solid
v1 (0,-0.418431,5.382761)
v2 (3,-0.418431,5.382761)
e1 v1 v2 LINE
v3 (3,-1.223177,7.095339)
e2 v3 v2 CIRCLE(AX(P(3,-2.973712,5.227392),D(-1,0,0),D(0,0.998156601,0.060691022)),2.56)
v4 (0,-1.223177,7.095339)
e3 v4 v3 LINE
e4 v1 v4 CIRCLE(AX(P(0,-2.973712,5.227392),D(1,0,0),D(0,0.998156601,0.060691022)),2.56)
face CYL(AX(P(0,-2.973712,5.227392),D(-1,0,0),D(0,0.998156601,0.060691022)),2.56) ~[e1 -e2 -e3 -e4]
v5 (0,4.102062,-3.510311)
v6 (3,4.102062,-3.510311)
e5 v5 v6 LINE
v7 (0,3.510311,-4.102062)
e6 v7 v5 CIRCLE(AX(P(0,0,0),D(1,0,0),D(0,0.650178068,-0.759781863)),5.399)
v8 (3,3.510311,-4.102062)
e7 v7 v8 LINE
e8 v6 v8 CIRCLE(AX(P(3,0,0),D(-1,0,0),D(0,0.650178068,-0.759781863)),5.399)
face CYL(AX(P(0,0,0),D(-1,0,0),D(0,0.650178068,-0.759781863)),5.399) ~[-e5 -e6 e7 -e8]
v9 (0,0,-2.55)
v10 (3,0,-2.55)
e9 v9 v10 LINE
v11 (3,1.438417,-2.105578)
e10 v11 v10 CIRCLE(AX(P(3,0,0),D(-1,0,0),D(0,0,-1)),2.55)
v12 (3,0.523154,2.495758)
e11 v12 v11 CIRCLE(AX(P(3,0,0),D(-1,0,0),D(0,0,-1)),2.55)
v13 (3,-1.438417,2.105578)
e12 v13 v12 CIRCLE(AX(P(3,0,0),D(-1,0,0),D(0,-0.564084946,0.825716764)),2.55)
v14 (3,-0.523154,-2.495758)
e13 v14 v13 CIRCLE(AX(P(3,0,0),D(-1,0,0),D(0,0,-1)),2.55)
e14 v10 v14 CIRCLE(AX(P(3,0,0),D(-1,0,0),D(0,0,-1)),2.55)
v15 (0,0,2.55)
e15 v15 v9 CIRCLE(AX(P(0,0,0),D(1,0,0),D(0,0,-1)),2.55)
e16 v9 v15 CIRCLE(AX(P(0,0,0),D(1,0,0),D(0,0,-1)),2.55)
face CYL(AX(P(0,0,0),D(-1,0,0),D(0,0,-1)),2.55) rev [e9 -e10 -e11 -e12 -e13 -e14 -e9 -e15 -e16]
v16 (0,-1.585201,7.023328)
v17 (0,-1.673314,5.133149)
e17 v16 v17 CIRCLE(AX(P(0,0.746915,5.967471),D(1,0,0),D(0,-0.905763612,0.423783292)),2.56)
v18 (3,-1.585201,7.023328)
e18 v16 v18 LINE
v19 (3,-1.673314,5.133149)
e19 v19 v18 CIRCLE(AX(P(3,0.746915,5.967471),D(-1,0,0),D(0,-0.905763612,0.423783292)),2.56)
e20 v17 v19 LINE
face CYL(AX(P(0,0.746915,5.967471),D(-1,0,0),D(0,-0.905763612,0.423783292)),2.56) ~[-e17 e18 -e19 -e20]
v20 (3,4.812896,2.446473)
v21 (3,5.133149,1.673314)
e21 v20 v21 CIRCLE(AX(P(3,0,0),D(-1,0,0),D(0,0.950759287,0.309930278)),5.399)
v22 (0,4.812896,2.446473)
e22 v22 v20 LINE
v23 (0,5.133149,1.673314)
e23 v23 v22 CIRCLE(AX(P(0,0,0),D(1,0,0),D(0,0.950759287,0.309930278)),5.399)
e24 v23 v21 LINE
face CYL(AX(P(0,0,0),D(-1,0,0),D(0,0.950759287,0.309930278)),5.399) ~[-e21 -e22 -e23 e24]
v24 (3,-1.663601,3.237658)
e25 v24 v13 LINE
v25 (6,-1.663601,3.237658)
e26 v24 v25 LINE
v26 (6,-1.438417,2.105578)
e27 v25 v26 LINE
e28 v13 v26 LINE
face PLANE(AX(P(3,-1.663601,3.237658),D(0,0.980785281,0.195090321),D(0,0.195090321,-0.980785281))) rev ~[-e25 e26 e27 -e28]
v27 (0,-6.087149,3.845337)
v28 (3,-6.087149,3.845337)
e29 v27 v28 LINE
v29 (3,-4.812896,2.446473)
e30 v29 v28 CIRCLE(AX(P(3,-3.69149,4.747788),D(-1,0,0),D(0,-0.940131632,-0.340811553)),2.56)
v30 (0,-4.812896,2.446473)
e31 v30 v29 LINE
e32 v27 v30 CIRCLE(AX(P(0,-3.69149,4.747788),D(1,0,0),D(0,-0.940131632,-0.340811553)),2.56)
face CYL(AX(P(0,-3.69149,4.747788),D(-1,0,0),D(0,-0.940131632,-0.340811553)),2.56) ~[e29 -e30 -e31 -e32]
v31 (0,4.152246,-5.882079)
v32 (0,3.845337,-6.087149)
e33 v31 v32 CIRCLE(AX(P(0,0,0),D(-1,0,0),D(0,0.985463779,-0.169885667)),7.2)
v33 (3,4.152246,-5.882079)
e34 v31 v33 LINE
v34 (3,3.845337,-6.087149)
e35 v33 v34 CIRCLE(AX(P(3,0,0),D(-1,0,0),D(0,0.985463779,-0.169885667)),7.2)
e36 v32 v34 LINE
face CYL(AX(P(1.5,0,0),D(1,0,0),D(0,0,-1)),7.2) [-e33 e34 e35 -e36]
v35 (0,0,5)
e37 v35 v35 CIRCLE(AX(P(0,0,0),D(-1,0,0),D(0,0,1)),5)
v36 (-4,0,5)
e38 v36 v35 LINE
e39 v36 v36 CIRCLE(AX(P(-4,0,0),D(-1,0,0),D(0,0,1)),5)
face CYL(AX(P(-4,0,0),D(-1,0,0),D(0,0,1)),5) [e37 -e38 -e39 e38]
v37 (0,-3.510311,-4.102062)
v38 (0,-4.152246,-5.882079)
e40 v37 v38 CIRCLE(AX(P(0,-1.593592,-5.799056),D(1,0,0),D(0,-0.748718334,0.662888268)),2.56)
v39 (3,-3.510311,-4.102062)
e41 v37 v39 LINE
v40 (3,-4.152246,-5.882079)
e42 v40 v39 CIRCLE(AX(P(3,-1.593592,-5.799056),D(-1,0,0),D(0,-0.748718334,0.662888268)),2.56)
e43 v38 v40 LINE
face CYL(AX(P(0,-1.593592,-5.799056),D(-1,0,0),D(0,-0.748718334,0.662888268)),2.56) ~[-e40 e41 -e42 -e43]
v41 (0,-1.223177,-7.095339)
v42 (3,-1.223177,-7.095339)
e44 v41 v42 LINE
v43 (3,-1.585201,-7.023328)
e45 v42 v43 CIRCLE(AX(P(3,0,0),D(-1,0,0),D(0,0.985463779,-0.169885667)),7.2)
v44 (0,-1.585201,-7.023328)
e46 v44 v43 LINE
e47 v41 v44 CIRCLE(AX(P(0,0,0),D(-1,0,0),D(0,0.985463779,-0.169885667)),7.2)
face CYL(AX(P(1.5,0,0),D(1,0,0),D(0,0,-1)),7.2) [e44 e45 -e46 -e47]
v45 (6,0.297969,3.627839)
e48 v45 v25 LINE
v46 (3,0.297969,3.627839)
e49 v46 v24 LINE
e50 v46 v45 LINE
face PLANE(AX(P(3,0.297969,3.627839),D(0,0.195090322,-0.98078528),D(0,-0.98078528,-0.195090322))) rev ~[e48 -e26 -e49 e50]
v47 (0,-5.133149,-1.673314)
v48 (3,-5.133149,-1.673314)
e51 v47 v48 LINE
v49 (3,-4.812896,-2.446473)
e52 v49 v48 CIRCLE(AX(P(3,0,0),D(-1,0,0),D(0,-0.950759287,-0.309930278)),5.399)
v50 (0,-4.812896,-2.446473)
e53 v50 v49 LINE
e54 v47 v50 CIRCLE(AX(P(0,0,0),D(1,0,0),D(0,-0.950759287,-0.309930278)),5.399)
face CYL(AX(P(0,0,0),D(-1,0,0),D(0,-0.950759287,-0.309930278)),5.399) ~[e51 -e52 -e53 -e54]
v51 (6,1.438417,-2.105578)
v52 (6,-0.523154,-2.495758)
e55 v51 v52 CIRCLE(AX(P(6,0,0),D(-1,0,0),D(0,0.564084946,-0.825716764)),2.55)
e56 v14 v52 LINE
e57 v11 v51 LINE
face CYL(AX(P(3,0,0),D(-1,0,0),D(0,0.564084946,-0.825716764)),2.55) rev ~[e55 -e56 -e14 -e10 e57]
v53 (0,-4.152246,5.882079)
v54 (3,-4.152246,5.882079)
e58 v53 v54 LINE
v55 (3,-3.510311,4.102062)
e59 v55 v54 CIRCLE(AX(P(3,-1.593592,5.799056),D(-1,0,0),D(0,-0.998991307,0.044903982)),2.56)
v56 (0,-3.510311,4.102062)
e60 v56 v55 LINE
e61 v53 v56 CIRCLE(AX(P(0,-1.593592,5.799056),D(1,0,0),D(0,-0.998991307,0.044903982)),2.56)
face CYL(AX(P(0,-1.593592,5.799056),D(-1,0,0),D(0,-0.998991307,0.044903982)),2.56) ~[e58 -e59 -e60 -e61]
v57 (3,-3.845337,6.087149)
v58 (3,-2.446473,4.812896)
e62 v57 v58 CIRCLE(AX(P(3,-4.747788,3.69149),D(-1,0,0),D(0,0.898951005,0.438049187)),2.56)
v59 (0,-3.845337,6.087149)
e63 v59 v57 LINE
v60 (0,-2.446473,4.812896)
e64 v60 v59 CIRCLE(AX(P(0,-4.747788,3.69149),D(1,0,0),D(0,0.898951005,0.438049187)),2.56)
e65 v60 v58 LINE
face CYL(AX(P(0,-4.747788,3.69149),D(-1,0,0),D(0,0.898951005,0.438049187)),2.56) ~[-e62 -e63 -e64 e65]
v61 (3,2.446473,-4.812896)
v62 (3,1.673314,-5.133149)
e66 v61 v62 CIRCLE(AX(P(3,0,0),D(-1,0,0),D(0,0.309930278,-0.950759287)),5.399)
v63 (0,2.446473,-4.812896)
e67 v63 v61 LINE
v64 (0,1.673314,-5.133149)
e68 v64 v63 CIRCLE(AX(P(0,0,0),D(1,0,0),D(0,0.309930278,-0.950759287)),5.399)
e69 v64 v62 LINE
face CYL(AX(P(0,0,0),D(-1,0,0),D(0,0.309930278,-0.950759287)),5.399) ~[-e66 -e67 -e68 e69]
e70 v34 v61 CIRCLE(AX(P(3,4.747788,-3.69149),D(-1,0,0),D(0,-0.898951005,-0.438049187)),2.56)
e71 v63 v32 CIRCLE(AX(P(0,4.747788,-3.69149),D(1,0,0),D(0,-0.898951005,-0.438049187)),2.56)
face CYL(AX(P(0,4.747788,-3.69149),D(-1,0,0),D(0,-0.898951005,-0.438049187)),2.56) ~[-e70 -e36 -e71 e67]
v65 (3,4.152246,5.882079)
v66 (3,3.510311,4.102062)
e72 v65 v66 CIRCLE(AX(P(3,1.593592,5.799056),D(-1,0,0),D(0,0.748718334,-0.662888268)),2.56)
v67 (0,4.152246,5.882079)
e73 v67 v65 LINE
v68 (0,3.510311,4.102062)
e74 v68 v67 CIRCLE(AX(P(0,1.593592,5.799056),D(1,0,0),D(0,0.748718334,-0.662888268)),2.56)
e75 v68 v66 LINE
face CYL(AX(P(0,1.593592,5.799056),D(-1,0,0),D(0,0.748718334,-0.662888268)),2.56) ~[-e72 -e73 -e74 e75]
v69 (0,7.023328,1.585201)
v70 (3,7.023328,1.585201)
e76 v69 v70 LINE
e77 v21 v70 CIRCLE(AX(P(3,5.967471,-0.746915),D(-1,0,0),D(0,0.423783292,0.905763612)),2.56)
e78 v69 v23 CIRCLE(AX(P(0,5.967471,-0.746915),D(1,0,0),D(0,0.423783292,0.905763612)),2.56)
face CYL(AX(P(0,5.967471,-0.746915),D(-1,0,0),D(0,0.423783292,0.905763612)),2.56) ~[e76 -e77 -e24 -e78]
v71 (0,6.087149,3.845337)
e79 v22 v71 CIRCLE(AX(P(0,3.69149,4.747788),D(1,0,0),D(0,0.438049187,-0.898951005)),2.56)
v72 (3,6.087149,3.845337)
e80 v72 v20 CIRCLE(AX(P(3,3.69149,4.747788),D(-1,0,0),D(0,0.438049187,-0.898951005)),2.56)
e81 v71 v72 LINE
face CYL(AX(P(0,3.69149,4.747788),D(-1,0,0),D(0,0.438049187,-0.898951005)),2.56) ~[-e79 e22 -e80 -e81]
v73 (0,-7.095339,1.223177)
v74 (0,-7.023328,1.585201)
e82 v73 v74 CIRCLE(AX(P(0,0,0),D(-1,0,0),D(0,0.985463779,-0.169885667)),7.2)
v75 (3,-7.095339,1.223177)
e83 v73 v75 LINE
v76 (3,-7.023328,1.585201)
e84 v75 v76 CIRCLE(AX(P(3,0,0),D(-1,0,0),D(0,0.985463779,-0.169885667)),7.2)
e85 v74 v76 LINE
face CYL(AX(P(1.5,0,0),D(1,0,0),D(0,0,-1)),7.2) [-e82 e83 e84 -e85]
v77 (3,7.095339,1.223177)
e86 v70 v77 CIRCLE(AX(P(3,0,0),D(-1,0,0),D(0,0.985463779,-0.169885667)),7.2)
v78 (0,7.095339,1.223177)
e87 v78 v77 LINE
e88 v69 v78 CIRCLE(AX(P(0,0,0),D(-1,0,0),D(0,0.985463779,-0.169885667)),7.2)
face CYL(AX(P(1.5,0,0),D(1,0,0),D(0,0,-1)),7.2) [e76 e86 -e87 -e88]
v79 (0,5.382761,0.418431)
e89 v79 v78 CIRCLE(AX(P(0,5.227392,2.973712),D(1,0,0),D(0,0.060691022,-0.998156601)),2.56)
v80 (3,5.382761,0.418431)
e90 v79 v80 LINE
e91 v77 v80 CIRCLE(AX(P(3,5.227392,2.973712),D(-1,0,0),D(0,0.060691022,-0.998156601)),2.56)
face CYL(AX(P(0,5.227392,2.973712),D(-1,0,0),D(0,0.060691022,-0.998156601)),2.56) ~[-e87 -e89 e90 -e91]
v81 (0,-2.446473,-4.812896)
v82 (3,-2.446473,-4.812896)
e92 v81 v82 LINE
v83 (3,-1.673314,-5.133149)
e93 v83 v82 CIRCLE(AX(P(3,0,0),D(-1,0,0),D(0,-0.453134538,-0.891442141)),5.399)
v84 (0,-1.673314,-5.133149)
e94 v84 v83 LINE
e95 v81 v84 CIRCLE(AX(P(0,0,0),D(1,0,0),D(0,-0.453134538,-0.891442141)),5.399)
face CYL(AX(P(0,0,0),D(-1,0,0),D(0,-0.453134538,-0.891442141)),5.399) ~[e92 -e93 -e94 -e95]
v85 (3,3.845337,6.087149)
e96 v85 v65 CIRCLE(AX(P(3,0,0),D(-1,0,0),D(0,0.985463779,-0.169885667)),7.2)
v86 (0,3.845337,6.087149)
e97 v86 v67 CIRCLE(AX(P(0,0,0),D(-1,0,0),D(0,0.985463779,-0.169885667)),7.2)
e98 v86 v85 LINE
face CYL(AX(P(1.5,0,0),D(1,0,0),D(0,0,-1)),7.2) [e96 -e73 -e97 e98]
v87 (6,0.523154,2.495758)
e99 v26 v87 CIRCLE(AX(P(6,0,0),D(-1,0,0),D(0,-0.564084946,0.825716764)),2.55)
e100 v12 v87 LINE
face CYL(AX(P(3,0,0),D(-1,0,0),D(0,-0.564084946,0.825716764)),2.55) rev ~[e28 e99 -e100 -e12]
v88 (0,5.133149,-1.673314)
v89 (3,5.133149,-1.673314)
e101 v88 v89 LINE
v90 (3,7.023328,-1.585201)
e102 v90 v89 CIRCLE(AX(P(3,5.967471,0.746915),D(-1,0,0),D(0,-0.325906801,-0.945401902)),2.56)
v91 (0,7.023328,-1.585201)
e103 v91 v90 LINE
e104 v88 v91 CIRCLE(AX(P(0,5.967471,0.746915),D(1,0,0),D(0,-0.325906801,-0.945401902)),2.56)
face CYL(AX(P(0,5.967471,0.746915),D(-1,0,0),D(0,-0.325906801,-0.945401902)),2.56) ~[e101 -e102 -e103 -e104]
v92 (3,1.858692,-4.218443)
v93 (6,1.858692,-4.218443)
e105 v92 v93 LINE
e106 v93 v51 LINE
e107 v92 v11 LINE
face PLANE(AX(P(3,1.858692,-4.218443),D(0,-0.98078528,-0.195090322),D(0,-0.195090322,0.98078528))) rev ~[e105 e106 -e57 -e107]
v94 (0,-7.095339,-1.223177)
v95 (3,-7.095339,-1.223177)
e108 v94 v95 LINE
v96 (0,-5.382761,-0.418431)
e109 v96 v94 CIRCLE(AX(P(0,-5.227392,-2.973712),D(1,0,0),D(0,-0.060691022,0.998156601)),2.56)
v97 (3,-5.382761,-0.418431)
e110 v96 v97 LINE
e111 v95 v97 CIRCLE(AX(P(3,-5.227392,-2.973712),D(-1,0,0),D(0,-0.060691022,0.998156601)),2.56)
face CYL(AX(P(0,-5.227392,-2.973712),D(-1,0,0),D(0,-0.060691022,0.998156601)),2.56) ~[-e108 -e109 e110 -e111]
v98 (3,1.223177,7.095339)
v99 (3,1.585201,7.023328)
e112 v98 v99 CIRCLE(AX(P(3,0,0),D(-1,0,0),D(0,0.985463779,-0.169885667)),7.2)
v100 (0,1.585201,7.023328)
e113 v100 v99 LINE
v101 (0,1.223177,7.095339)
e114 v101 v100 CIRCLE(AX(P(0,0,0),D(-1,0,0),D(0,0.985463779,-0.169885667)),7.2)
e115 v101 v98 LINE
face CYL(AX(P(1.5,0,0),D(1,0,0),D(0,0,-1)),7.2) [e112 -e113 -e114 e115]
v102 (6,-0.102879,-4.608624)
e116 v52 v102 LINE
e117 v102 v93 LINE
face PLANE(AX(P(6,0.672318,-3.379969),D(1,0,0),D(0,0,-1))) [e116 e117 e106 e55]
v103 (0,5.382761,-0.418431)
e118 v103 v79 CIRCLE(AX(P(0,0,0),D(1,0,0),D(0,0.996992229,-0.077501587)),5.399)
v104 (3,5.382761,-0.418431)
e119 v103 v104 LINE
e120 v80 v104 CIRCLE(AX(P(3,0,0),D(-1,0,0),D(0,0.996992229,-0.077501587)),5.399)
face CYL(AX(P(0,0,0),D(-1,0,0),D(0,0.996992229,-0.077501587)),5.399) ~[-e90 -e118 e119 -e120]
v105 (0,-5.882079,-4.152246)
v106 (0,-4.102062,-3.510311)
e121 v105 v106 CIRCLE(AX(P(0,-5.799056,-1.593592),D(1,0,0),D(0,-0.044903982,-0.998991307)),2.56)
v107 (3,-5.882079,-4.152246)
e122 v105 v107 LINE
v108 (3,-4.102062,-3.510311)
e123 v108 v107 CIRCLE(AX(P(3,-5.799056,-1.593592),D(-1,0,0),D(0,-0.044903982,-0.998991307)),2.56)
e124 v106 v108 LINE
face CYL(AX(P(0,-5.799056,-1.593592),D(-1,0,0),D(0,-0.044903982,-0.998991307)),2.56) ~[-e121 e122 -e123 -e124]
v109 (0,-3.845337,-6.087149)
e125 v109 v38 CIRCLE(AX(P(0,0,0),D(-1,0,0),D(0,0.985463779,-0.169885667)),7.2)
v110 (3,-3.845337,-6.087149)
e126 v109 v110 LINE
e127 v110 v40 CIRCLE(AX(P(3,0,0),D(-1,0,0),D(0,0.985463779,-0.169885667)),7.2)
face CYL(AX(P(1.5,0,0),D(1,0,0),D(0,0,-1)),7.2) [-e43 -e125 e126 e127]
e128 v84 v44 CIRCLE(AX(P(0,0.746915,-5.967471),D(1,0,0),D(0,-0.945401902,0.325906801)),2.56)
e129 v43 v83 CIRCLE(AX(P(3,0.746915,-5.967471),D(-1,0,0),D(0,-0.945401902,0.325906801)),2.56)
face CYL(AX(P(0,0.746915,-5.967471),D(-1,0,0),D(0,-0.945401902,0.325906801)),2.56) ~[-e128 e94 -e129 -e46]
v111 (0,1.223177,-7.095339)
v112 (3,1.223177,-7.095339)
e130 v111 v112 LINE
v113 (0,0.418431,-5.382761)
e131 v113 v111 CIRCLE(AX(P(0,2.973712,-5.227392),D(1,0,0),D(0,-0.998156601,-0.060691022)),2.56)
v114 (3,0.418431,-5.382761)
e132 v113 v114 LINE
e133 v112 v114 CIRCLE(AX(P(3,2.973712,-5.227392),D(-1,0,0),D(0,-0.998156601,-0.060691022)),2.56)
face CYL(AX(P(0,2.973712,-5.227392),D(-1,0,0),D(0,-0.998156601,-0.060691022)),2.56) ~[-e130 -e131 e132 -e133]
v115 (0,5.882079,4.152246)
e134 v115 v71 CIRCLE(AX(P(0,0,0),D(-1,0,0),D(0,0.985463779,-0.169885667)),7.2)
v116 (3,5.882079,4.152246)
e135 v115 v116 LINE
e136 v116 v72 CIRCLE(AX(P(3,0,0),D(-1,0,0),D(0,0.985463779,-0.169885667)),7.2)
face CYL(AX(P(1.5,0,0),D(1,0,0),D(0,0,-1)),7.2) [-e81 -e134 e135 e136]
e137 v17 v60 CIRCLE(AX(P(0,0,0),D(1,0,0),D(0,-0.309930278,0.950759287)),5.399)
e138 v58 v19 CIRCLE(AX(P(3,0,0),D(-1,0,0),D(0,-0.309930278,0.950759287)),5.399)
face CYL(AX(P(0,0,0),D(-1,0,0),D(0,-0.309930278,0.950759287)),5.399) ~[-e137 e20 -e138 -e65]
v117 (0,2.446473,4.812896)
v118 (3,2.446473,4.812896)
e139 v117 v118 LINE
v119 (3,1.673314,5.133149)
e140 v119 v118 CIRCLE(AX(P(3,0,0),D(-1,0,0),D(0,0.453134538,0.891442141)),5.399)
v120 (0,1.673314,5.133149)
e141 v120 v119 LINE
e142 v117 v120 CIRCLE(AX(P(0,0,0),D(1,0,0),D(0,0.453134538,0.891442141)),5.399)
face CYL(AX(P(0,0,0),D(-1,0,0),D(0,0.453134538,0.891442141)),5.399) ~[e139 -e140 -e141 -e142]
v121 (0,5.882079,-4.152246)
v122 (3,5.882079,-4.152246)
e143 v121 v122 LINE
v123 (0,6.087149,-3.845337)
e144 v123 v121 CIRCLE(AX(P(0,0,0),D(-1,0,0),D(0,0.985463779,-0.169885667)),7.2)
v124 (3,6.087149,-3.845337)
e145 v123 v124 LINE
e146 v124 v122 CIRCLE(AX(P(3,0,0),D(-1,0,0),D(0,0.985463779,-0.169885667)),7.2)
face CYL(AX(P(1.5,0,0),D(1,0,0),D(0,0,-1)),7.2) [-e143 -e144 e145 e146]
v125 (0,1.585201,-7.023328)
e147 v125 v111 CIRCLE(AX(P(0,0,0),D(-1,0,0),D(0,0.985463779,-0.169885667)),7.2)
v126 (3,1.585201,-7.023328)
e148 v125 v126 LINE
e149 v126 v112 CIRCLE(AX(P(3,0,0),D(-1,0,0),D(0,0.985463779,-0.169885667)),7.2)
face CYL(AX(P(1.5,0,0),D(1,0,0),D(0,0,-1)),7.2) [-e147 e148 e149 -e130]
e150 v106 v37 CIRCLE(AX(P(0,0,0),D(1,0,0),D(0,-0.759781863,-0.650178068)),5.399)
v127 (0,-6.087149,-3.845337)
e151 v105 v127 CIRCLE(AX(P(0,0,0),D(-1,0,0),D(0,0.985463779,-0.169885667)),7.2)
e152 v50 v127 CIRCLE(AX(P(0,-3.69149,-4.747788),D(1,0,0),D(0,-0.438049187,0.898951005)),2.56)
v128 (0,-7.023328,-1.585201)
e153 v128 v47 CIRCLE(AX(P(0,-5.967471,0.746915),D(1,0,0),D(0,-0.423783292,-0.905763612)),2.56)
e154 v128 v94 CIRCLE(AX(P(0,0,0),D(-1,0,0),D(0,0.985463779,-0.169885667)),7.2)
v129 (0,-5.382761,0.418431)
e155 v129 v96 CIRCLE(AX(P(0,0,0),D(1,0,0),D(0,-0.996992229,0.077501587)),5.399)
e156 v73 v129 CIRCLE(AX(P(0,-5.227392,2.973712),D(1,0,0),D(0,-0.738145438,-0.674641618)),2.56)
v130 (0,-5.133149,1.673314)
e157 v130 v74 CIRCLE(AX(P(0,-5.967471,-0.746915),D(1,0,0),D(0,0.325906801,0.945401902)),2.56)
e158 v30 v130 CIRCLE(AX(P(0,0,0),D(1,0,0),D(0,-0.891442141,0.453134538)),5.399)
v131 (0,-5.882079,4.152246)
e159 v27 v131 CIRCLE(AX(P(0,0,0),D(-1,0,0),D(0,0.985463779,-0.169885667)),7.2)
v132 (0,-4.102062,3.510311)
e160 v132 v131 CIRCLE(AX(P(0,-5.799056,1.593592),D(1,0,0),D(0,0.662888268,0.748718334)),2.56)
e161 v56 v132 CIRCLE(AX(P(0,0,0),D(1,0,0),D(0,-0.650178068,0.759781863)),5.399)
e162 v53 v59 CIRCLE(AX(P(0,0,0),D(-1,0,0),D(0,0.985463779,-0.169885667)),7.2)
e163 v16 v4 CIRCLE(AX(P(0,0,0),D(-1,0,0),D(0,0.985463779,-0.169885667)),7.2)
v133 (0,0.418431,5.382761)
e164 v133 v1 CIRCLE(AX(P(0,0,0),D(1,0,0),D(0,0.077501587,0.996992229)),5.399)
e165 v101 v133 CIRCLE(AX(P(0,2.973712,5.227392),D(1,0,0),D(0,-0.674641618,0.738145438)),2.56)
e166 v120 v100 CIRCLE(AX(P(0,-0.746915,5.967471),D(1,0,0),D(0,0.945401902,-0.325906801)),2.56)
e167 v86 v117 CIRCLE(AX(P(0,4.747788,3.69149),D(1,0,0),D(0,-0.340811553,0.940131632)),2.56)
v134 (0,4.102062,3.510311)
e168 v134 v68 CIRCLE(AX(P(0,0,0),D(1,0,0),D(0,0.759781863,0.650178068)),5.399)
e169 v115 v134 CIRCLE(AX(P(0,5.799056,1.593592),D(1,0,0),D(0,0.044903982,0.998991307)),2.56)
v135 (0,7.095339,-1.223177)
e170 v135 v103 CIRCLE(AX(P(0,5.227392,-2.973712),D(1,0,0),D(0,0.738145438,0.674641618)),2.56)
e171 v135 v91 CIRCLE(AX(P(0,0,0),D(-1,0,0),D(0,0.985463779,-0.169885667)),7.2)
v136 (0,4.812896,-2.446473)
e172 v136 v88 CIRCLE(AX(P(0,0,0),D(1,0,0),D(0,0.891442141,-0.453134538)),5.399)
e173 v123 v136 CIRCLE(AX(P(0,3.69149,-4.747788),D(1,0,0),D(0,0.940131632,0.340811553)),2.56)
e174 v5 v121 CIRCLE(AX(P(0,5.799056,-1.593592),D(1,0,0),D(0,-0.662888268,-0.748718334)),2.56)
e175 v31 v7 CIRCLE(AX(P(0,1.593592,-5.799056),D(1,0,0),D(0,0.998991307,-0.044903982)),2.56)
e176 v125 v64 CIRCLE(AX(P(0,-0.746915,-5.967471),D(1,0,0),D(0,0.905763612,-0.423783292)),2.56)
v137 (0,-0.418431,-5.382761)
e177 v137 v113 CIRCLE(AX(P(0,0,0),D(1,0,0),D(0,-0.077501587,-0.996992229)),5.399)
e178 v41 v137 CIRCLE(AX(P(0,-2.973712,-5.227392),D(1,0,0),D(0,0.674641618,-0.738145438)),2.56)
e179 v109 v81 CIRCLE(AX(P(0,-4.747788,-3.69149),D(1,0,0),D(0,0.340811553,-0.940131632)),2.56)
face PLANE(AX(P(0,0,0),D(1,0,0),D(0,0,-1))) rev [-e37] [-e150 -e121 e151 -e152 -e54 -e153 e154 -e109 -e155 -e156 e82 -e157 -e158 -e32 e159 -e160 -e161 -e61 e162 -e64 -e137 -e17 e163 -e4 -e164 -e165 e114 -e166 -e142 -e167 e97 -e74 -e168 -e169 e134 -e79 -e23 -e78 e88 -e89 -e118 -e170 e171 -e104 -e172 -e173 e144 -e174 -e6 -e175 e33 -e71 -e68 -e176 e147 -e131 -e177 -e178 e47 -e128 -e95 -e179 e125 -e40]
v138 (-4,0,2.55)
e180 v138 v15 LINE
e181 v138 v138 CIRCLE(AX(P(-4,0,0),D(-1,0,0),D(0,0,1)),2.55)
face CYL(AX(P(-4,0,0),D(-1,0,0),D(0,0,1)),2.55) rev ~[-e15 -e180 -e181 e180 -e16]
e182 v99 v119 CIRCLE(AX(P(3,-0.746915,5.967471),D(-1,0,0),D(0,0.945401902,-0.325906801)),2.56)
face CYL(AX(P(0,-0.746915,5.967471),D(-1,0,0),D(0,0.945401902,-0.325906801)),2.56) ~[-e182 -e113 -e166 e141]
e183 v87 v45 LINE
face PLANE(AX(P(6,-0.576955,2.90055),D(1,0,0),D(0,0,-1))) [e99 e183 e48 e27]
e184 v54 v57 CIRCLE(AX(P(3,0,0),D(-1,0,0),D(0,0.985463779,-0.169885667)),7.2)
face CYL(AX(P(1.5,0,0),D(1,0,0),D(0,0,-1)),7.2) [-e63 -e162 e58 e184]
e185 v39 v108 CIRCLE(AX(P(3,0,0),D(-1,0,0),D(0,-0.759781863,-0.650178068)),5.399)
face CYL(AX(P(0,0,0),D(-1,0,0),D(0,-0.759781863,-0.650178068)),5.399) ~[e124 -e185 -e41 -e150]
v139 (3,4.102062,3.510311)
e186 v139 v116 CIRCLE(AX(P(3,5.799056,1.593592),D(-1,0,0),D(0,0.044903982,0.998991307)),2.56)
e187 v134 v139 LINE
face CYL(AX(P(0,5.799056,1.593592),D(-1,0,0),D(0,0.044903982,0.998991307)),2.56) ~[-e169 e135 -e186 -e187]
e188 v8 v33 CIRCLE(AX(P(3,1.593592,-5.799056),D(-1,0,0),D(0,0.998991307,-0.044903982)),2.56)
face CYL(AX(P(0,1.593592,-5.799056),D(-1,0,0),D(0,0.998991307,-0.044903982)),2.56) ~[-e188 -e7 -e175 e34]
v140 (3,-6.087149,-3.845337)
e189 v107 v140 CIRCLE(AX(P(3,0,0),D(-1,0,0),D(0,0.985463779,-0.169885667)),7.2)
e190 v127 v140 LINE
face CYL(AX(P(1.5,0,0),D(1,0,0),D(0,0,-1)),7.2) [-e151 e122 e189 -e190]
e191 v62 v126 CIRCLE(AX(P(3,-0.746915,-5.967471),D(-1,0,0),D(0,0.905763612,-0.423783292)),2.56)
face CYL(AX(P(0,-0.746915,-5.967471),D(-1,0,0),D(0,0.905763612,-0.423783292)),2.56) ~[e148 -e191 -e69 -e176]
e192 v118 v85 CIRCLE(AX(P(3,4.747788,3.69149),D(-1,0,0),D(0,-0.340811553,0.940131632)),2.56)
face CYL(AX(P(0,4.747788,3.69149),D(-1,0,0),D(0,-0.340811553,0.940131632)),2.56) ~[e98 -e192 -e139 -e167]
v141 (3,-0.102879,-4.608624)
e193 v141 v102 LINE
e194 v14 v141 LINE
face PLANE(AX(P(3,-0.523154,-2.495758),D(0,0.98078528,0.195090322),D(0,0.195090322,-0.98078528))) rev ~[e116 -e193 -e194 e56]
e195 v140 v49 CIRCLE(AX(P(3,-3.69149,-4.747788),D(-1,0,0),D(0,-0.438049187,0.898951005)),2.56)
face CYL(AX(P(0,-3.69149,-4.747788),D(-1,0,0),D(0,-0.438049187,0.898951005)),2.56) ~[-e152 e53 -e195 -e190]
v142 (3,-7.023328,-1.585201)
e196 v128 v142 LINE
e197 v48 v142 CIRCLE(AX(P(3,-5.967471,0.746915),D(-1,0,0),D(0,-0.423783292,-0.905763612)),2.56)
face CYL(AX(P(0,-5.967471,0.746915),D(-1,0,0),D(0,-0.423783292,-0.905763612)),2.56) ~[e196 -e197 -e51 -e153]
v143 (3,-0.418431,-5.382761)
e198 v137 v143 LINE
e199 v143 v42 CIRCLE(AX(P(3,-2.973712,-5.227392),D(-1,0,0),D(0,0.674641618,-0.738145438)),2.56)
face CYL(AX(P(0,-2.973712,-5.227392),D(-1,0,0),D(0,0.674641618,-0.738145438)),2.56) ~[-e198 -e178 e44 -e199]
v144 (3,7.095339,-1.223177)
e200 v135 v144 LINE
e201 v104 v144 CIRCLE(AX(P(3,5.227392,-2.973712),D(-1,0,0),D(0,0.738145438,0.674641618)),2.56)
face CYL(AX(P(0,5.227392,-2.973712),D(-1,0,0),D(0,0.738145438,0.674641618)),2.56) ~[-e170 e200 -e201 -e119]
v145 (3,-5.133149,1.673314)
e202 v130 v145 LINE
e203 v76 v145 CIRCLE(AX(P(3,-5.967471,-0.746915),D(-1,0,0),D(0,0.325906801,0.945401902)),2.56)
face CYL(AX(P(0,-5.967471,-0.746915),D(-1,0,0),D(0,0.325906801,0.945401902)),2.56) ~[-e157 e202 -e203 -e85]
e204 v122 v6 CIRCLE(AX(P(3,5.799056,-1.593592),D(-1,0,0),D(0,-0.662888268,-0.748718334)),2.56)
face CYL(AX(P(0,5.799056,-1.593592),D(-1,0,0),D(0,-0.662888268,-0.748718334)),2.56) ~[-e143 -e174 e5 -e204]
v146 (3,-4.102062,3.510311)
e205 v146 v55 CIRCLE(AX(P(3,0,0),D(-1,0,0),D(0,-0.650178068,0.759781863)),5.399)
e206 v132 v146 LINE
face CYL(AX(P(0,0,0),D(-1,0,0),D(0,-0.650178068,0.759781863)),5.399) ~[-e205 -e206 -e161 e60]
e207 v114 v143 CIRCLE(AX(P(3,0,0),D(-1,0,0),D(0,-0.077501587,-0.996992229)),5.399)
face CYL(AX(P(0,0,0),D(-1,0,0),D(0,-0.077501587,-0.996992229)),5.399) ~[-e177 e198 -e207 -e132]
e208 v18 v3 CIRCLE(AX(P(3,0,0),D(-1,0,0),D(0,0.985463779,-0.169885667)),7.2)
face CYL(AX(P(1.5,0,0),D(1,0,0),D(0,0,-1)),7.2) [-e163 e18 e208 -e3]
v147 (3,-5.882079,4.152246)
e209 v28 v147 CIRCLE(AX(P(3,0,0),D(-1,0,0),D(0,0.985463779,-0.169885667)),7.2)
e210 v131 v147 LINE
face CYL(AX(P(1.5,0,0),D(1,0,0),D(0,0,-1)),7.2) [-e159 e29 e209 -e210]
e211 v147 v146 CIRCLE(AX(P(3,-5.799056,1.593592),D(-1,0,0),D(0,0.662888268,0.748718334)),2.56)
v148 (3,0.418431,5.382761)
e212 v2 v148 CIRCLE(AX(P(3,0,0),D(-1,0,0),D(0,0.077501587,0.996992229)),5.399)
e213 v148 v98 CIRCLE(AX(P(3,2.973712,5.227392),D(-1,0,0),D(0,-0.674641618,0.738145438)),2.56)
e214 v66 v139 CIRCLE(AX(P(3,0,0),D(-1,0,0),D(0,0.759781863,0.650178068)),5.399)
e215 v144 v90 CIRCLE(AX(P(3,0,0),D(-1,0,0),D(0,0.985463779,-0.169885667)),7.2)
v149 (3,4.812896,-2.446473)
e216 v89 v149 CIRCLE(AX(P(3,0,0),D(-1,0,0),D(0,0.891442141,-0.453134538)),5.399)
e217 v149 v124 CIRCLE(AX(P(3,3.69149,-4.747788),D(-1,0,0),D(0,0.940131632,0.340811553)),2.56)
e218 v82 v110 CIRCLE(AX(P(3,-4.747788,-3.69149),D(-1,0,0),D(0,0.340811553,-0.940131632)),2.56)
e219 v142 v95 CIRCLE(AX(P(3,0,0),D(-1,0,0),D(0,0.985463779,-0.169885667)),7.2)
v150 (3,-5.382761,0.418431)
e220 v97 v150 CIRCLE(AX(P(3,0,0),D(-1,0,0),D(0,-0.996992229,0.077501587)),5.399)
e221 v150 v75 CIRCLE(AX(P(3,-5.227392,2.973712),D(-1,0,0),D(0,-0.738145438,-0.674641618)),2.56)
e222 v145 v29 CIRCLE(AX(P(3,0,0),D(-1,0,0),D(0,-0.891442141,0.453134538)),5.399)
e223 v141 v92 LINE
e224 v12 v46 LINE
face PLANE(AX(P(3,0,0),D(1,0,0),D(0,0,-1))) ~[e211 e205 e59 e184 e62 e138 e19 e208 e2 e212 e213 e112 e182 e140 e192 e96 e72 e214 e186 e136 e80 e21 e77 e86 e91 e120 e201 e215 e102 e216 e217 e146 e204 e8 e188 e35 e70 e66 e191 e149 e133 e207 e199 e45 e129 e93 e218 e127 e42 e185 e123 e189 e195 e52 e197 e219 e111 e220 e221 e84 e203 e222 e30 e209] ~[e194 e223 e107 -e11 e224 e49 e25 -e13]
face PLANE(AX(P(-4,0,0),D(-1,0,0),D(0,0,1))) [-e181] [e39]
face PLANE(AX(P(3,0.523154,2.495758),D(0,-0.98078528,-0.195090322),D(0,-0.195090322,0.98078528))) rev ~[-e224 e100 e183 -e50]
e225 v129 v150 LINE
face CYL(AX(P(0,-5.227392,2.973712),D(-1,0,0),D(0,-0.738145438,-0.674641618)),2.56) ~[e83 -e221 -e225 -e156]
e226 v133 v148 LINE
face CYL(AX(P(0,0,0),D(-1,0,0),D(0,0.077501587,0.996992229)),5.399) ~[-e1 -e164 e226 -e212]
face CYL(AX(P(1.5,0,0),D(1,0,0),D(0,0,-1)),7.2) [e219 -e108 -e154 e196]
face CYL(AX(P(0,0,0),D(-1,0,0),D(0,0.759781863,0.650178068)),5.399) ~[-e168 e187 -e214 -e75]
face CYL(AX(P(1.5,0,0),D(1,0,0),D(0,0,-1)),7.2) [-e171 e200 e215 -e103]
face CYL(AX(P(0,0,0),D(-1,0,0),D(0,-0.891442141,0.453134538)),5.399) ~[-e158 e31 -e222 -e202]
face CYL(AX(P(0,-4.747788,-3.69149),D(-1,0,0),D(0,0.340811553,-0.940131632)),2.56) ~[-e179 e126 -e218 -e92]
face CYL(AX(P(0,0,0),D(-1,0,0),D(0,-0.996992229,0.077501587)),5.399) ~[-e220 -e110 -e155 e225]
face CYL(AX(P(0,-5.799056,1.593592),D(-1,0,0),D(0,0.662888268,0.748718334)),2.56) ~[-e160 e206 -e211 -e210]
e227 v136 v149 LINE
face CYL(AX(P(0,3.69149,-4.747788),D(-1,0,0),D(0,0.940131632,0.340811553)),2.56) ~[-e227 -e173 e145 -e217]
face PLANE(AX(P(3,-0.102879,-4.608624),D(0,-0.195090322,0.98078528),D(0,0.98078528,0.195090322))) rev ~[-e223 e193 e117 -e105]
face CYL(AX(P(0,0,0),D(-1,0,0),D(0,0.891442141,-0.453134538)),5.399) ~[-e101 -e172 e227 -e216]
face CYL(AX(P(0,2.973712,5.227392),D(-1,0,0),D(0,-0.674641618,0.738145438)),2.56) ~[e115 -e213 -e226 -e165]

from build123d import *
from build123d.topology import SkipClean

# Parameters (mm, degrees)
BASPROSKE_W         = 3
BASPROSKE_H         = 7.2
TOOTHCUT_DEPTH      = 11.615083608
TEETHCUTS_COUNT     = 16
BORSKE_R            = 0.5
BORE_DEPTH          = 50.0000508
SKETCH_1_R          = 2.55
CUT_EXTRUDE_1_DEPTH = 11.473188484
EXTRUDE_START       = 4
SKETCH_3_R          = 5
SKETCH_3_R_2        = 2.55
EXTRUDE_2_DEPTH     = 4
EXTRUDE_1_DEPTH     = 3


with BuildPart() as part:
    # BasProSke → Base-Revolve (revolve)
    with BuildSketch(Plane(origin=(0, 0, 0), x_dir=(1, 0, 0), z_dir=(0, 1, 0))):
        with Locations((1.5, 3.6)):
            Rectangle(BASPROSKE_W, BASPROSKE_H)
    revolve(axis=Axis((-10, 0, 0), (1, 0, 0)))

    # TooCutSke → ToothCut (cut, through all)
    with BuildSketch(Plane(origin=(0, 0, 0), x_dir=(0, 0, -1), z_dir=(1, 0, 0))):
        with BuildLine():
            ThreePointArc((0.418431057, 5.382761043), (0, 5.399), (-0.418431057, 5.382761043))
            ThreePointArc((-0.418431057, 5.382761043), (-0.663605074, 6.330572066), (-1.246629414, 7.117044349))
            ThreePointArc((-1.246629414, 7.117044349), (0, 7.2254), (1.246629414, 7.117044349))
            ThreePointArc((1.246629414, 7.117044349), (0.663605074, 6.330572066), (0.418431057, 5.382761043))
        make_face()
    toothcut = extrude(amount=TOOTHCUT_DEPTH, mode=Mode.SUBTRACT)

    # TeethCuts: ToothCut ×16 about axis
    teethcuts_axis = Axis((-10, 0, 0), (1, 0, 0))
    for i in range(1, TEETHCUTS_COUNT):
        add(toothcut.rotate(teethcuts_axis, i * 360 / TEETHCUTS_COUNT), mode=Mode.SUBTRACT)

    # BorSke → Bore (cut, symmetric)
    with BuildSketch(Plane(origin=(0, 0, 0), x_dir=(0, 0, -1), z_dir=(1, 0, 0))):
        Circle(BORSKE_R)
    extrude(amount=BORE_DEPTH, both=True, mode=Mode.SUBTRACT)

    # 草图1 → 切除-拉伸1 (cut, through all)
    with BuildSketch(Plane(origin=(0, 0, 0), x_dir=(0, 0, -1), z_dir=(1, 0, 0))):
        Circle(SKETCH_1_R)
    extrude(amount=CUT_EXTRUDE_1_DEPTH, mode=Mode.SUBTRACT)

    # 草图3 → 凸台-拉伸2 (add)
    with SkipClean():  # the faces are left unmerged after this step: merging them gives an invalid solid
        with BuildSketch(Plane.ZY.offset(EXTRUDE_START)):
            Circle(SKETCH_3_R)
            Circle(SKETCH_3_R_2, mode=Mode.SUBTRACT)
        extrude(amount=-EXTRUDE_2_DEPTH)

    # 草图2 → 凸台-拉伸1 (add)
    with SkipClean():  # the faces are left unmerged after this step: merging them gives an invalid solid
        with BuildSketch(Plane(origin=(3, 0, 0), x_dir=(0, 0, -1), z_dir=(1, 0, 0))):
            with BuildLine():
                Line((4.608624084, -0.102878831), (4.21844344, 1.858691729))
                Line((4.21844344, 1.858691729), (2.105577747, 1.438416613))
                ThreePointArc((2.105577747, 1.438416613), (2.501002465, 0.497480321), (2.495758391, -0.523153948))
                Line((2.495758391, -0.523153948), (4.608624084, -0.102878831))
            make_face()
            with BuildLine():
                ThreePointArc((-2.105577747, -1.438416613), (-2.501002465, -0.497480321), (-2.495758391, 0.523153948))
                Line((-2.495758391, 0.523153948), (-3.627838803, 0.297969153))
                Line((-3.627838803, 0.297969153), (-3.237658159, -1.663601407))
                Line((-3.237658159, -1.663601407), (-2.105577747, -1.438416613))
            make_face()
        extrude(amount=EXTRUDE_1_DEPTH)


solid = part.part
